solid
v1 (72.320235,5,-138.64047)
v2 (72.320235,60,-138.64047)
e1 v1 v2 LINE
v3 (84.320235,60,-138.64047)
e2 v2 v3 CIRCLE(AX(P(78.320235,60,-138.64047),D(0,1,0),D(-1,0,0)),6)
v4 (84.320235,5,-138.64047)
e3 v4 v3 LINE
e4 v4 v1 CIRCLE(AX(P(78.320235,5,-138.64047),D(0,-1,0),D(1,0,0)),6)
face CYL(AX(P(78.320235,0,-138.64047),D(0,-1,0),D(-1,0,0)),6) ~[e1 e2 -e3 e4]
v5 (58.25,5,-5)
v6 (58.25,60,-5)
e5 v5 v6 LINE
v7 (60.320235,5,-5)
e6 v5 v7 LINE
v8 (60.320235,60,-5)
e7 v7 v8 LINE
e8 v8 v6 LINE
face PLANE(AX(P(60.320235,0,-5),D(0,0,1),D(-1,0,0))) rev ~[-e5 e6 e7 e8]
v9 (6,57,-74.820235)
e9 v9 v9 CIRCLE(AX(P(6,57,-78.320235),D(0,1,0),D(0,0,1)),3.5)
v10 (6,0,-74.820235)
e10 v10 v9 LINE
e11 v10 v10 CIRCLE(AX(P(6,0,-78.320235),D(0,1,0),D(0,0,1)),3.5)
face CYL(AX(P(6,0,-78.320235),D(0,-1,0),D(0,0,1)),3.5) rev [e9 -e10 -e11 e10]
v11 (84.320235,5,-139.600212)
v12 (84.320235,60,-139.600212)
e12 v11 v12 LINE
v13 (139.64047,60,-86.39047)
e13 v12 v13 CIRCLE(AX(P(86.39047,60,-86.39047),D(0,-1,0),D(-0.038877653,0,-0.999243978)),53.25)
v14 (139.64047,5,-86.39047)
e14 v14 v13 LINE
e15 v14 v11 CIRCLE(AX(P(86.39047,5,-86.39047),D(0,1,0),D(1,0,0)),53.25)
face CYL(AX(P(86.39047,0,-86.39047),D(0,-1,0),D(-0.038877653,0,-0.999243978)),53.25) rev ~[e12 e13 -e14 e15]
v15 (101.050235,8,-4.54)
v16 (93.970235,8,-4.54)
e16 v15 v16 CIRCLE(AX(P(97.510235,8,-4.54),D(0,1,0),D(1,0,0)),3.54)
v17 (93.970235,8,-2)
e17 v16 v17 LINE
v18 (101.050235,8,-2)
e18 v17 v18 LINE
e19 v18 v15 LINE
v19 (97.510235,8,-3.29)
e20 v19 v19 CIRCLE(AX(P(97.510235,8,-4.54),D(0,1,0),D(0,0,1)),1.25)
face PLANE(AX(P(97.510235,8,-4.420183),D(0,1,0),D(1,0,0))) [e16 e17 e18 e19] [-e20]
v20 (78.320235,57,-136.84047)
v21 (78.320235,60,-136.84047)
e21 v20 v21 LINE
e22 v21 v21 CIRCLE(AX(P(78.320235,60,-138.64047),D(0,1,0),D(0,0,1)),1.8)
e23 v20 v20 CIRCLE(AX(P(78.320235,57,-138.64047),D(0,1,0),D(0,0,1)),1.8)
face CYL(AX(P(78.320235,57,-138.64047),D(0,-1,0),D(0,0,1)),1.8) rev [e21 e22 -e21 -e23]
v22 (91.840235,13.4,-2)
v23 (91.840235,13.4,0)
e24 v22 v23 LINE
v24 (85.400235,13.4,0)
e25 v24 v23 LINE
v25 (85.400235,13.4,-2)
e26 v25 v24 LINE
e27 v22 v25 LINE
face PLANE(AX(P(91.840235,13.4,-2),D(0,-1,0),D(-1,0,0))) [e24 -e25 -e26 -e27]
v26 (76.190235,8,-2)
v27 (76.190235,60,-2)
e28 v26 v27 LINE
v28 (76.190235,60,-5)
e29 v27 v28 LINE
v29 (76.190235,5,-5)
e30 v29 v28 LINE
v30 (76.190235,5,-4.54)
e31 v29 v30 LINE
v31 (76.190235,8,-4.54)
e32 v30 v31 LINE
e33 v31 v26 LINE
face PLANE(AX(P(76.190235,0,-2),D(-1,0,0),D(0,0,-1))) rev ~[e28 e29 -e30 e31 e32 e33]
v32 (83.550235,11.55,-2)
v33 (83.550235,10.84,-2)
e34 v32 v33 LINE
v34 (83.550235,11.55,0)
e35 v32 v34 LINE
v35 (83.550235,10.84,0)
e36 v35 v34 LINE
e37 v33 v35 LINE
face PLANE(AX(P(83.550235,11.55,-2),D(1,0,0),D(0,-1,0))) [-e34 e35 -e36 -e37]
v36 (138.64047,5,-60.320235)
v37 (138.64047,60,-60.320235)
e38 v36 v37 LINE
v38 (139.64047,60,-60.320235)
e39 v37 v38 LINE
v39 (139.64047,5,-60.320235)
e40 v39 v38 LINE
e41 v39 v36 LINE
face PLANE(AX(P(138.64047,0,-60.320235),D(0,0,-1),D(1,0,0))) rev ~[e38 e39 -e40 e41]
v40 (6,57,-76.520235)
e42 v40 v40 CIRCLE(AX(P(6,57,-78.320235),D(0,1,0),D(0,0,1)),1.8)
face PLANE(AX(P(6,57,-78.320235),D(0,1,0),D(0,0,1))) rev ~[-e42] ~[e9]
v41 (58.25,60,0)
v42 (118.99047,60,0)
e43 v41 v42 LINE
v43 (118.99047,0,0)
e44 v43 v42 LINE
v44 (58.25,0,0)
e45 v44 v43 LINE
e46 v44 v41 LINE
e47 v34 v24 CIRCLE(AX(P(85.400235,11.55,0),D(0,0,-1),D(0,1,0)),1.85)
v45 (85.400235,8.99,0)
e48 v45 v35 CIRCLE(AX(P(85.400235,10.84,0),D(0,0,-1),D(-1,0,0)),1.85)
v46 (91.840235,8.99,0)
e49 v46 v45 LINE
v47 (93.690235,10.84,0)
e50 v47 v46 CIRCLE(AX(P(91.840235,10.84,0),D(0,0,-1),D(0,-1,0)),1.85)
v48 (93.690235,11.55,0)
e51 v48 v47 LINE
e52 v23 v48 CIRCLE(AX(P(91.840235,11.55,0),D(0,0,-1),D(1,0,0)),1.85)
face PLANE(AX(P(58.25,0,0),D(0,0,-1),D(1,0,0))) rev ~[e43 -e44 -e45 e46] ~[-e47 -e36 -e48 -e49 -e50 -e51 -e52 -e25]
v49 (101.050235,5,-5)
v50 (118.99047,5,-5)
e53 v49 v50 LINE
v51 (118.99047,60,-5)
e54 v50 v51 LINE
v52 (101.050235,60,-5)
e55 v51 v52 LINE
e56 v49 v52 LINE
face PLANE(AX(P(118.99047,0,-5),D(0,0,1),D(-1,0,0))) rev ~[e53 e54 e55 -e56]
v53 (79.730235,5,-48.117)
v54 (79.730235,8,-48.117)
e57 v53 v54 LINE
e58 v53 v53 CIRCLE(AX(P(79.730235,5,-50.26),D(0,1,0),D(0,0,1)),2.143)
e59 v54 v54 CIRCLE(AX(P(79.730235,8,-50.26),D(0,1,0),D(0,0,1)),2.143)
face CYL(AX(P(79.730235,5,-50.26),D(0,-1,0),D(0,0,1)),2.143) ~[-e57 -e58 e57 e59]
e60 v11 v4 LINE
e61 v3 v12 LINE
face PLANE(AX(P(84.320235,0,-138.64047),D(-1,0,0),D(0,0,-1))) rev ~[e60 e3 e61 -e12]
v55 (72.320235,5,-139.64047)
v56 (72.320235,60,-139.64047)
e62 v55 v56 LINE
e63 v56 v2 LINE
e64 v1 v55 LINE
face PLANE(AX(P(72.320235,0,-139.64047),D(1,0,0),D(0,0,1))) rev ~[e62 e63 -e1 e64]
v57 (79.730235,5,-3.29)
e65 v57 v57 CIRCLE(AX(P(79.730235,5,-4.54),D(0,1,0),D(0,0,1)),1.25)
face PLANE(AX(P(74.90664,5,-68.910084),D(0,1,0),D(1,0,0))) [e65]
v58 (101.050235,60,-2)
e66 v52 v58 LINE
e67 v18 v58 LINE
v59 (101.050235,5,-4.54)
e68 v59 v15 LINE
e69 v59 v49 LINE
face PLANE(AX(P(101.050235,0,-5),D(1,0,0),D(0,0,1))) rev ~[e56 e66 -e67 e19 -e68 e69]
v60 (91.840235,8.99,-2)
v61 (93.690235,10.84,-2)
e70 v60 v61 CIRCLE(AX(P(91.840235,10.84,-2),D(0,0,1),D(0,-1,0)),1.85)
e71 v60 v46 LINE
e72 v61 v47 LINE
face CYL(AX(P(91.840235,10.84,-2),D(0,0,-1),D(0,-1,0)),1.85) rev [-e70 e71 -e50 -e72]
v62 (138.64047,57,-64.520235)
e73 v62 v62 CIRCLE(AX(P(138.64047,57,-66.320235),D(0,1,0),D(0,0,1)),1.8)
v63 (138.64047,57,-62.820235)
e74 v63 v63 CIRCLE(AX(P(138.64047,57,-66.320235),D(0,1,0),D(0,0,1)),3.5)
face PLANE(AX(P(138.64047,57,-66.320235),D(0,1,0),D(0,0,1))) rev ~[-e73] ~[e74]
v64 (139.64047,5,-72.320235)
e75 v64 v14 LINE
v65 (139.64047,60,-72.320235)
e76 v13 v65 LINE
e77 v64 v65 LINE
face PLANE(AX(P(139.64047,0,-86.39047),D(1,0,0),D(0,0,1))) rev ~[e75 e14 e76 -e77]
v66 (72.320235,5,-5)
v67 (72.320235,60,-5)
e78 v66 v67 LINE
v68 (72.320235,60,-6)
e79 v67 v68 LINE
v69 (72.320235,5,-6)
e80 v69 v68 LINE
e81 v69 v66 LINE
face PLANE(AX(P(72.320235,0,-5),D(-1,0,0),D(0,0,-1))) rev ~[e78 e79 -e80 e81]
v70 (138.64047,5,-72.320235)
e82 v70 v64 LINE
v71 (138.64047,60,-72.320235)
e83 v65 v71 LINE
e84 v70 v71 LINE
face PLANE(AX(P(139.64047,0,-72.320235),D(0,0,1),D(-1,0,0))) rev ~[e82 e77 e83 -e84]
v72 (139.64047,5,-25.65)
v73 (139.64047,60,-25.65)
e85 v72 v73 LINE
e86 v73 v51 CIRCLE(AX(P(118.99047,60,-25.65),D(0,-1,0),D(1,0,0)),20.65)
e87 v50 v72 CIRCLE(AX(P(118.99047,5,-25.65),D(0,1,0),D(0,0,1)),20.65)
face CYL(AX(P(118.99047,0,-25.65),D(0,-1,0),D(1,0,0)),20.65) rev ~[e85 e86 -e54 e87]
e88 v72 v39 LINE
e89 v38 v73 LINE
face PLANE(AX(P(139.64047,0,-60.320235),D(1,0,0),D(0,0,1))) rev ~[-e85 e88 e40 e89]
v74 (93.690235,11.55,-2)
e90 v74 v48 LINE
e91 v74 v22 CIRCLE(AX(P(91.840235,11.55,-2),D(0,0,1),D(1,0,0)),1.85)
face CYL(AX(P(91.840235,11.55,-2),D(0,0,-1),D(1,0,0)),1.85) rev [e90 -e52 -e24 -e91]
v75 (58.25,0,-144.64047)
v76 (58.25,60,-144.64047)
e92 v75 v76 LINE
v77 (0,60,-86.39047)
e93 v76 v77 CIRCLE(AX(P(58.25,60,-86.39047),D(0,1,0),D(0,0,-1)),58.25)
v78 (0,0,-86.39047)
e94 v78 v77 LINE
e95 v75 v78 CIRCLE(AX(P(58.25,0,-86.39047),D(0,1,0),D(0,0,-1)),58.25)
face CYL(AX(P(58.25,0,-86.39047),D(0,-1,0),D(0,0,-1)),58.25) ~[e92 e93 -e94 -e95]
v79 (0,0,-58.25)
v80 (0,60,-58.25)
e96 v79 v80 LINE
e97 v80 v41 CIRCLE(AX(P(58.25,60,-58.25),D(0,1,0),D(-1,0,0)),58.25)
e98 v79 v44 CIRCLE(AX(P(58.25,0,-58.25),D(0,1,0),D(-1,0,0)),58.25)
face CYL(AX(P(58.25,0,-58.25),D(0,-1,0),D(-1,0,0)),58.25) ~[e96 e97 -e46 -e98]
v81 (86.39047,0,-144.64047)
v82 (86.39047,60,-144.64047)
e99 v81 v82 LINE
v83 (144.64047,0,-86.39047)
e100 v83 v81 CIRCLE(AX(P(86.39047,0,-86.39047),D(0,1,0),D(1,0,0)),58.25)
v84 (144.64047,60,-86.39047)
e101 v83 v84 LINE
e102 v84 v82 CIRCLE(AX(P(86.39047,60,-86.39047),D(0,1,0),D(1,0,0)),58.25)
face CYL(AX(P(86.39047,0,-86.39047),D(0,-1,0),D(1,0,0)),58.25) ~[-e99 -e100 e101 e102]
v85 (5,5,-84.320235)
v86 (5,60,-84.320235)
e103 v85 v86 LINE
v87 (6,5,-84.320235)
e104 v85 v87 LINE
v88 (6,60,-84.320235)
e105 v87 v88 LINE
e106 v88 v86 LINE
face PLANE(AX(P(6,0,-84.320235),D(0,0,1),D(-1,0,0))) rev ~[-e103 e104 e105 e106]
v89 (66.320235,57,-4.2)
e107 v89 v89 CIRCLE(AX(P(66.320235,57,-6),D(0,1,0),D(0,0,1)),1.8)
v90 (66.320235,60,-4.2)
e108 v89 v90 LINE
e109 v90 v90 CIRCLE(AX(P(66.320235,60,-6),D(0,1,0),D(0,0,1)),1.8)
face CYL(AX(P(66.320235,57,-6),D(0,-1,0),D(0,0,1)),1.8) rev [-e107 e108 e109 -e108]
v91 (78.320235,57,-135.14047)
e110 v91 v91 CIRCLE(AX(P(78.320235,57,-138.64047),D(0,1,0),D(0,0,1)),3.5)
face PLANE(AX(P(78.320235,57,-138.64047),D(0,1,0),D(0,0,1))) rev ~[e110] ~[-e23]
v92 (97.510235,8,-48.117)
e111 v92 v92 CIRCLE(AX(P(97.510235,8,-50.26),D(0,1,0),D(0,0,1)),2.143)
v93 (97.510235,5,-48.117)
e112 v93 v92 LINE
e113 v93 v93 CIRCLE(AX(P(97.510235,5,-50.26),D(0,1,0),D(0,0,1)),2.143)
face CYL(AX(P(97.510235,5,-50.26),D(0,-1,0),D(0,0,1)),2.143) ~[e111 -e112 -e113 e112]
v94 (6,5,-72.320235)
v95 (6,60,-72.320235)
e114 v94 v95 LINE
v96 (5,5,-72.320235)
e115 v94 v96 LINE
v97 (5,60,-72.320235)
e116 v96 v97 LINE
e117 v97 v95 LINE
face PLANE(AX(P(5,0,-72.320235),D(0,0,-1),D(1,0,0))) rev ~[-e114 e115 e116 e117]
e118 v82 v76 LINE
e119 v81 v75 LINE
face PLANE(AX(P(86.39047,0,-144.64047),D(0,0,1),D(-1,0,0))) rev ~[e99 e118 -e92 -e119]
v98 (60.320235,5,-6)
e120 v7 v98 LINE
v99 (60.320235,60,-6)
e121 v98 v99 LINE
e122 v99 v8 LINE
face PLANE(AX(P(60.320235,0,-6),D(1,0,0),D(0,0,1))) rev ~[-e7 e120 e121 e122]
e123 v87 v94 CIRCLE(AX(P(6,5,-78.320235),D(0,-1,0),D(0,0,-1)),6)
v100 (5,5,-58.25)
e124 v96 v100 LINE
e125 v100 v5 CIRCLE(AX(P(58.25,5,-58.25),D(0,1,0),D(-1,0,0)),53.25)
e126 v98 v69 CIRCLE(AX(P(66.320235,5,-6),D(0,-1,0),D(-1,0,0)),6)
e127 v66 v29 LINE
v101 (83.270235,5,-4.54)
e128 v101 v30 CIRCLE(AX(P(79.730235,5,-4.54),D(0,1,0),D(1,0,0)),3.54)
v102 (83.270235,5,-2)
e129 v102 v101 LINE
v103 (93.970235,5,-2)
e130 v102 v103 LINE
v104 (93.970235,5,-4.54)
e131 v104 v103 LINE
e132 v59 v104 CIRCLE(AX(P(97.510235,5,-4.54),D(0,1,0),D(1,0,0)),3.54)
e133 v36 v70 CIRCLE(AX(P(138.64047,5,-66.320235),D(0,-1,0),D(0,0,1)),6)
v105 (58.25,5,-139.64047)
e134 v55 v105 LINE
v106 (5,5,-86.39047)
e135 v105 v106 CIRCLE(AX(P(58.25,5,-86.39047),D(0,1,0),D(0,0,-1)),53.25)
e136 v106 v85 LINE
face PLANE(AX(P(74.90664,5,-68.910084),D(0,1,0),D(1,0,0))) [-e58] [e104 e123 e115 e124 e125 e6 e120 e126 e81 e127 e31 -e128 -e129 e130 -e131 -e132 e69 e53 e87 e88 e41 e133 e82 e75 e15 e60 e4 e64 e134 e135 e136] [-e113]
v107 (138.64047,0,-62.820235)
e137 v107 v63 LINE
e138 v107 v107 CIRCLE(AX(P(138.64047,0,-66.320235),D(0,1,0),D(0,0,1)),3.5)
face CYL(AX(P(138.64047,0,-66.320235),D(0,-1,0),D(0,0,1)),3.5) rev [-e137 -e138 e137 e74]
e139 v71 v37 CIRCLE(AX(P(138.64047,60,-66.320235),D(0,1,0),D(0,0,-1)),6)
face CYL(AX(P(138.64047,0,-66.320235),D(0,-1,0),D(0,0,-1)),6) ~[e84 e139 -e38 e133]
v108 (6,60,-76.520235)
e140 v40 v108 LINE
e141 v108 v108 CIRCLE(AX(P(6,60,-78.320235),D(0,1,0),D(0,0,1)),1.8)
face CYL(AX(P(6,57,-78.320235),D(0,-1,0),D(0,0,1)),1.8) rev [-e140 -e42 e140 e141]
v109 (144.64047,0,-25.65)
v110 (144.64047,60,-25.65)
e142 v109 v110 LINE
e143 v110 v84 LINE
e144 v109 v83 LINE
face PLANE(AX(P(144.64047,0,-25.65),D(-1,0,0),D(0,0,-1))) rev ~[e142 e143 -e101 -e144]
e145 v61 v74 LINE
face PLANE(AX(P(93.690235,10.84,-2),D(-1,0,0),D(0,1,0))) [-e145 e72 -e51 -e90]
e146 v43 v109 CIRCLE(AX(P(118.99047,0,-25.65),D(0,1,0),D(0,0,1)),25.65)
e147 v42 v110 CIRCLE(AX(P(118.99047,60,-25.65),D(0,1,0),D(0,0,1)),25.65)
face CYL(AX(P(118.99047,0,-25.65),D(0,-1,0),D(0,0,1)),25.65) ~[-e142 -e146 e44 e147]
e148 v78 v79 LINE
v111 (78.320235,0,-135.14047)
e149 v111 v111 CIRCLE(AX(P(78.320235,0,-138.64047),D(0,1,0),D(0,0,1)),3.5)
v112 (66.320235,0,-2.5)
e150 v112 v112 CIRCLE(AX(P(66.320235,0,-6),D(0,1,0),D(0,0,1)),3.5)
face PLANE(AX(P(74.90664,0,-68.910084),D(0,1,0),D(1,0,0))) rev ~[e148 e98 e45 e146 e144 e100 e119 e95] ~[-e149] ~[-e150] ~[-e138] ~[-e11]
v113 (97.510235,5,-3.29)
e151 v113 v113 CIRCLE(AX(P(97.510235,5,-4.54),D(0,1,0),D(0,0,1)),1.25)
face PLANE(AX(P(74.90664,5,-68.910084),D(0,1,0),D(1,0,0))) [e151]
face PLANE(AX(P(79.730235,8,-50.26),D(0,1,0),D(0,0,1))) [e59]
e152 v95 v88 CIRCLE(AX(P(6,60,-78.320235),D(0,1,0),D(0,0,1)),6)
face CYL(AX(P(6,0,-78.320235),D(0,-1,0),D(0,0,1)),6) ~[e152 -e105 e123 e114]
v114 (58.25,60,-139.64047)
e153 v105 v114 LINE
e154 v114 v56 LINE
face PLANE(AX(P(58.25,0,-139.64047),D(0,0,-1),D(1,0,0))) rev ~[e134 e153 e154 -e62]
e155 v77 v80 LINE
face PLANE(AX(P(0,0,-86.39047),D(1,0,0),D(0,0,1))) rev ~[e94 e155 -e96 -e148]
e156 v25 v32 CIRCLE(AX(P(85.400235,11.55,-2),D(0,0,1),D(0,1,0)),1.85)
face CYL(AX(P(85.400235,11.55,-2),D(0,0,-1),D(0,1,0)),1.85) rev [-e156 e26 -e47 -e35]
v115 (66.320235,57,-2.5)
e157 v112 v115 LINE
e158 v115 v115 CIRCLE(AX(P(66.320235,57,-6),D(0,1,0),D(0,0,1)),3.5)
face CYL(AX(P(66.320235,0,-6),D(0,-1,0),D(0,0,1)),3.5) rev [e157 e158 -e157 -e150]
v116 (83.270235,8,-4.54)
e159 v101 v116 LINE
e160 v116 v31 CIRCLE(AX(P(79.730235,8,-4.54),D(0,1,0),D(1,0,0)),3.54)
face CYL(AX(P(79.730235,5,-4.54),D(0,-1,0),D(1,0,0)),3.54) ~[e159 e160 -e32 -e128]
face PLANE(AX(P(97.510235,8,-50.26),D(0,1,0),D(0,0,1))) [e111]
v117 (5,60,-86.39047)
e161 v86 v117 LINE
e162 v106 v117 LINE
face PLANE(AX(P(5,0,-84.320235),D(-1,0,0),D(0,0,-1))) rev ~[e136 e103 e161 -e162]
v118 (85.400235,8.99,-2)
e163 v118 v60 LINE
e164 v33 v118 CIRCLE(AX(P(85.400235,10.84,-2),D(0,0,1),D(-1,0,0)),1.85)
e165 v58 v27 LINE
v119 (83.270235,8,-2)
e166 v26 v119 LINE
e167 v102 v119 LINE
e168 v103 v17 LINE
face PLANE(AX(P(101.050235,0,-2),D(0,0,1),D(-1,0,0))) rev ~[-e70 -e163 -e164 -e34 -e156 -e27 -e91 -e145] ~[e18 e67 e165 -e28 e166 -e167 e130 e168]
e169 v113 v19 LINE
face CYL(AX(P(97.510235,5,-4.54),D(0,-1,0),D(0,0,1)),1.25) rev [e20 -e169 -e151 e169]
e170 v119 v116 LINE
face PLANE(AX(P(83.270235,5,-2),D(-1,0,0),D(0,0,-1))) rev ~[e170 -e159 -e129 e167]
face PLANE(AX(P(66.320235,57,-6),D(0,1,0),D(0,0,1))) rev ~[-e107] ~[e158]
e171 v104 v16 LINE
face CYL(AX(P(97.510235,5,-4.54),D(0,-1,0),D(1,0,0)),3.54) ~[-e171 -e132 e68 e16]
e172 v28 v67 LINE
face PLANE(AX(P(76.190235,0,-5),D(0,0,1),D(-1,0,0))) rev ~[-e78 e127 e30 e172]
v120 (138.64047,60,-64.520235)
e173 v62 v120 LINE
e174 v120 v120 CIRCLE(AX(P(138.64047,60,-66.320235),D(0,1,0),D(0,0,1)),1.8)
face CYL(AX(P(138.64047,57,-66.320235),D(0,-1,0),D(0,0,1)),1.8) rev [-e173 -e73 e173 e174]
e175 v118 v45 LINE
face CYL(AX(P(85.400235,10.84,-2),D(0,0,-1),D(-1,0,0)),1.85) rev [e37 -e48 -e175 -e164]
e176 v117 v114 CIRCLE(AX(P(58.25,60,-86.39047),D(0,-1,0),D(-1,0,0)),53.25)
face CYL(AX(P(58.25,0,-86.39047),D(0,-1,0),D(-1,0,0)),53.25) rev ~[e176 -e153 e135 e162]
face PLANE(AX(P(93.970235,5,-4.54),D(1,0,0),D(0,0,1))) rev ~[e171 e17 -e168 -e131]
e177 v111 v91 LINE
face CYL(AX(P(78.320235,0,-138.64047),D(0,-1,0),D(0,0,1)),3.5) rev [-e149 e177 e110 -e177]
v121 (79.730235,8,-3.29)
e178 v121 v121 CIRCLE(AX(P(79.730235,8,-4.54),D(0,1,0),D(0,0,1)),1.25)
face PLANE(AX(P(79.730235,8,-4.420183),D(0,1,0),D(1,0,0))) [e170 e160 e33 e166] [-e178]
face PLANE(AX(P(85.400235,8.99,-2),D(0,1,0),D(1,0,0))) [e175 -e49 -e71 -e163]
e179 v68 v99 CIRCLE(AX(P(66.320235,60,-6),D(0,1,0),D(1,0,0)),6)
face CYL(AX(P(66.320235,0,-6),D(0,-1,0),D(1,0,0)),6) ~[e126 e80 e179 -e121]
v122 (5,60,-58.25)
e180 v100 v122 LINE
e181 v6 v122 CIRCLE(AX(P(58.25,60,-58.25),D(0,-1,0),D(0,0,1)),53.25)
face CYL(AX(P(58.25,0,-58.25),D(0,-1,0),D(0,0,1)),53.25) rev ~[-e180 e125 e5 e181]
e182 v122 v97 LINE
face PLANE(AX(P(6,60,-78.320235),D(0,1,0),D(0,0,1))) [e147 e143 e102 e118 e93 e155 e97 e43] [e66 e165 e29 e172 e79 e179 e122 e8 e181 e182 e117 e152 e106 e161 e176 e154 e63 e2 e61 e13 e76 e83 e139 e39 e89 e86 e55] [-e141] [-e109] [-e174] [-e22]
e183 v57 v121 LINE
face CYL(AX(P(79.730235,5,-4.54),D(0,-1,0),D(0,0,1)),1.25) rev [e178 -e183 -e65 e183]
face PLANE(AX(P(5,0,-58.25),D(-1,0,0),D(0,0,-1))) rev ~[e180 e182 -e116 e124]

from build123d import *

# Parameters (mm, degrees)
SKETCH1_R           = 3.5
BOSS_EXTRUDE1_DEPTH = 60
BOSS_EXTRUDE2_DEPTH = 5
BOSS_EXTRUDE3_START = 5
SKETCH1_4_R         = 1.25
SKETCH1_4_R_2       = 2.143
BOSS_EXTRUDE3_DEPTH = 3
CUT_EXTRUDE1_REACH  = 213.819
BOSS_EXTRUDE4_START = 57
SKETCH1_6_R         = 3.5
SKETCH1_6_R_2       = 1.8
BOSS_EXTRUDE4_DEPTH = 3


with BuildPart() as part:
    # Sketch1 → Boss-Extrude1 (new body)
    with BuildSketch(Plane(origin=(0, 0, 0), x_dir=(1, 0, 0), z_dir=(0, 1, 0))):
        with BuildLine():
            ThreePointArc((0, 58.25), (17.061029996, 17.061029996), (58.25, 0))
            Line((58.25, 0), (118.99047, 0))
            ThreePointArc((118.99047, 0), (137.127758937, 7.512711063), (144.64047, 25.65))
            Line((144.64047, 25.65), (144.64047, 86.39047))
            ThreePointArc((144.64047, 86.39047), (127.579440004, 127.579440004), (86.39047, 144.64047))
            Line((86.39047, 144.64047), (58.25, 144.64047))
            ThreePointArc((58.25, 144.64047), (17.061029996, 127.579440004), (0, 86.39047))
            Line((0, 86.39047), (0, 58.25))
        make_face()
        with Locations(Location((66.320235, 6, 0), (0, 0, 270))):
            Circle(SKETCH1_R, mode=Mode.SUBTRACT)
        with BuildLine():
            ThreePointArc((5, 86.39047), (20.596563902, 124.043906098), (58.25, 139.64047))
            Line((58.25, 139.64047), (72.320235, 139.64047))
            Line((72.320235, 139.64047), (72.320235, 138.64047))
            ThreePointArc((72.320235, 138.64047), (78.320235, 132.64047), (84.320235, 138.64047))
            Line((84.320235, 138.64047), (84.320235, 139.600211843))
            ThreePointArc((84.320235, 139.600211843), (123.304711738, 124.768865705), (139.64047, 86.39047))
            Line((139.64047, 86.39047), (139.64047, 72.320235))
            Line((139.64047, 72.320235), (138.64047, 72.320235))
            ThreePointArc((138.64047, 72.320235), (132.64047, 66.320235), (138.64047, 60.320235))
            Line((138.64047, 60.320235), (139.64047, 60.320235))
            Line((139.64047, 60.320235), (139.64047, 25.65))
            ThreePointArc((139.64047, 25.65), (133.592225032, 11.048244968), (118.99047, 5))
            Line((118.99047, 5), (101.050235, 5))
            Line((101.050235, 5), (101.050235, 4.54))
            Line((101.050235, 4.54), (101.050235, 2))
            Line((101.050235, 2), (100.050235, 2))
            Line((100.050235, 2), (93.970235, 2))
            Line((93.970235, 2), (83.270235, 2))
            Line((83.270235, 2), (77.190235, 2))
            Line((77.190235, 2), (76.190235, 2))
            Line((76.190235, 2), (76.190235, 4.54))
            Line((76.190235, 4.54), (76.190235, 5))
            Line((76.190235, 5), (72.320235, 5))
            Line((72.320235, 5), (72.320235, 6))
            ThreePointArc((72.320235, 6), (66.320235, 12), (60.320235, 6))
            Line((60.320235, 6), (60.320235, 5))
            Line((60.320235, 5), (58.25, 5))
            ThreePointArc((58.25, 5), (20.596563902, 20.596563902), (5, 58.25))
            Line((5, 58.25), (5, 72.320235))
            Line((5, 72.320235), (6, 72.320235))
            ThreePointArc((6, 72.320235), (12, 78.320235), (6, 84.320235))
            Line((6, 84.320235), (5, 84.320235))
            Line((5, 84.320235), (5, 86.39047))
        make_face(mode=Mode.SUBTRACT)
        with Locations(Location((138.64047, 66.320235, 0), (0, 0, 270))):
            Circle(SKETCH1_R, mode=Mode.SUBTRACT)
        with Locations(Location((6, 78.320235, 0), (0, 0, 270))):
            Circle(SKETCH1_R, mode=Mode.SUBTRACT)
        with Locations(Location((78.320235, 138.64047, 0), (0, 0, 270))):
            Circle(SKETCH1_R, mode=Mode.SUBTRACT)
    extrude(amount=BOSS_EXTRUDE1_DEPTH)

    # Sketch1<2> → Boss-Extrude2 (add)
    with BuildSketch(Plane(origin=(0, 0, 0), x_dir=(1, 0, 0), z_dir=(0, 1, 0))):
        with BuildLine():
            Line((72.320235, 139.64047), (58.25, 139.64047))
            ThreePointArc((58.25, 139.64047), (20.596563902, 124.043906098), (5, 86.39047))
            Line((5, 86.39047), (5, 84.320235))
            Line((5, 84.320235), (6, 84.320235))
            ThreePointArc((6, 84.320235), (12, 78.320235), (6, 72.320235))
            Line((6, 72.320235), (5, 72.320235))
            Line((5, 72.320235), (5, 58.25))
            ThreePointArc((5, 58.25), (20.596563902, 20.596563902), (58.25, 5))
            Line((58.25, 5), (60.320235, 5))
            Line((60.320235, 5), (60.320235, 6))
            ThreePointArc((60.320235, 6), (66.320235, 12), (72.320235, 6))
            Line((72.320235, 6), (72.320235, 5))
            Line((72.320235, 5), (76.190235, 5))
            Line((76.190235, 5), (76.190235, 2))
            Line((76.190235, 2), (101.050235, 2))
            Line((101.050235, 2), (101.050235, 5))
            Line((101.050235, 5), (118.99047, 5))
            ThreePointArc((118.99047, 5), (133.592225032, 11.048244968), (139.64047, 25.65))
            Line((139.64047, 25.65), (139.64047, 60.320235))
            Line((139.64047, 60.320235), (138.64047, 60.320235))
            ThreePointArc((138.64047, 60.320235), (132.64047, 66.320235), (138.64047, 72.320235))
            Line((138.64047, 72.320235), (139.64047, 72.320235))
            Line((139.64047, 72.320235), (139.64047, 86.39047))
            ThreePointArc((139.64047, 86.39047), (123.304711738, 124.768865705), (84.320235, 139.600211843))
            Line((84.320235, 139.600211843), (84.320235, 138.64047))
            ThreePointArc((84.320235, 138.64047), (78.320235, 132.64047), (72.320235, 138.64047))
            Line((72.320235, 138.64047), (72.320235, 139.64047))
        make_face()
    extrude(amount=BOSS_EXTRUDE2_DEPTH)

    # Sketch1<4> → Boss-Extrude3 (add)
    # profile 1 of 4: a face of its own
    with BuildSketch(Plane(origin=(0, 0, 0), x_dir=(1, 0, 0), z_dir=(0, 1, 0)).offset(BOSS_EXTRUDE3_START)):
        with BuildLine():
            Line((101.050235, 2), (101.050235, 4.54))
            ThreePointArc((101.050235, 4.54), (97.510235, 8.08), (93.970235, 4.54))
            Line((93.970235, 4.54), (93.970235, 2))
            Line((93.970235, 2), (101.050235, 2))
        make_face()
        with Locations(Location((97.510235, 4.54, 0), (0, 0, 270))):
            Circle(SKETCH1_4_R, mode=Mode.SUBTRACT)
    # profile 2 of 4: a face of its own
    with BuildSketch(Plane(origin=(0, 0, 0), x_dir=(1, 0, 0), z_dir=(0, 1, 0)).offset(BOSS_EXTRUDE3_START)):
        with BuildLine():
            ThreePointArc((83.270235, 4.54), (79.730235, 8.08), (76.190235, 4.54))
            Line((76.190235, 4.54), (76.190235, 2))
            Line((76.190235, 2), (83.270235, 2))
            Line((83.270235, 2), (83.270235, 4.54))
        make_face()
        with Locations(Location((79.730235, 4.54, 0), (0, 0, 270))):
            Circle(SKETCH1_4_R, mode=Mode.SUBTRACT)
    # profile 3 of 4: a face of its own
    with BuildSketch(Plane(origin=(0, 0, 0), x_dir=(1, 0, 0), z_dir=(0, 1, 0)).offset(BOSS_EXTRUDE3_START)):
        with Locations(Location((79.730235, 50.26, 0), (0, 0, 270))):
            Circle(SKETCH1_4_R_2)
    # profile 4 of 4: a face of its own
    with BuildSketch(Plane(origin=(0, 0, 0), x_dir=(1, 0, 0), z_dir=(0, 1, 0)).offset(BOSS_EXTRUDE3_START)):
        with Locations(Location((97.510235, 50.26, 0), (0, 0, 270))):
            Circle(SKETCH1_4_R_2)
    extrude(amount=BOSS_EXTRUDE3_DEPTH)

    # Sketch2 → Cut-Extrude1 (cut, up to next)
    with BuildSketch(Plane(origin=(0, 0, -2), x_dir=(-1, 0, 0), z_dir=(0, 0, -1)), mode=Mode.PRIVATE) as cut_extrude1_sk1:
        with BuildLine():
            Line((-91.840235, 13.4), (-85.400235, 13.4))
            ThreePointArc((-85.400235, 13.4), (-84.092087455, 12.858147545), (-83.550235, 11.55))
            Line((-83.550235, 11.55), (-83.550235, 10.84))
            ThreePointArc((-83.550235, 10.84), (-84.092087455, 9.531852455), (-85.400235, 8.99))
            Line((-85.400235, 8.99), (-91.840235, 8.99))
            ThreePointArc((-91.840235, 8.99), (-93.148382545, 9.531852455), (-93.690235, 10.84))
            Line((-93.690235, 10.84), (-93.690235, 11.55))
            ThreePointArc((-93.690235, 11.55), (-93.148382545, 12.858147545), (-91.840235, 13.4))
        make_face()
    cut_extrude1_tool1 = extrude(cut_extrude1_sk1.sketch, amount=-CUT_EXTRUDE1_REACH, mode=Mode.PRIVATE) & part.part
    add(cut_extrude1_tool1.solids().sort_by_distance((88.620235, 11.195, -2))[0], mode=Mode.SUBTRACT)

    # Sketch1<6> → Boss-Extrude4 (add)
    # profile 1 of 4: a face of its own
    with BuildSketch(Plane(origin=(0, 0, 0), x_dir=(1, 0, 0), z_dir=(0, 1, 0)).offset(BOSS_EXTRUDE4_START)):
        with Locations(Location((6, 78.320235, 0), (0, 0, 270))):
            Circle(SKETCH1_6_R)
        with Locations(Location((6, 78.320235, 0), (0, 0, 270))):
            Circle(SKETCH1_6_R_2, mode=Mode.SUBTRACT)
    # profile 2 of 4: a face of its own
    with BuildSketch(Plane(origin=(0, 0, 0), x_dir=(1, 0, 0), z_dir=(0, 1, 0)).offset(BOSS_EXTRUDE4_START)):
        with Locations(Location((78.320235, 138.64047, 0), (0, 0, 270))):
            Circle(SKETCH1_6_R)
        with Locations(Location((78.320235, 138.64047, 0), (0, 0, 270))):
            Circle(SKETCH1_6_R_2, mode=Mode.SUBTRACT)
    # profile 3 of 4: a face of its own
    with BuildSketch(Plane(origin=(0, 0, 0), x_dir=(1, 0, 0), z_dir=(0, 1, 0)).offset(BOSS_EXTRUDE4_START)):
        with Locations(Location((138.64047, 66.320235, 0), (0, 0, 270))):
            Circle(SKETCH1_6_R)
        with Locations(Location((138.64047, 66.320235, 0), (0, 0, 270))):
            Circle(SKETCH1_6_R_2, mode=Mode.SUBTRACT)
    # profile 4 of 4: a face of its own
    with BuildSketch(Plane(origin=(0, 0, 0), x_dir=(1, 0, 0), z_dir=(0, 1, 0)).offset(BOSS_EXTRUDE4_START)):
        with Locations(Location((66.320235, 6, 0), (0, 0, 270))):
            Circle(SKETCH1_6_R)
        with Locations(Location((66.320235, 6, 0), (0, 0, 270))):
            Circle(SKETCH1_6_R_2, mode=Mode.SUBTRACT)
    extrude(amount=BOSS_EXTRUDE4_DEPTH)


solid = part.part
